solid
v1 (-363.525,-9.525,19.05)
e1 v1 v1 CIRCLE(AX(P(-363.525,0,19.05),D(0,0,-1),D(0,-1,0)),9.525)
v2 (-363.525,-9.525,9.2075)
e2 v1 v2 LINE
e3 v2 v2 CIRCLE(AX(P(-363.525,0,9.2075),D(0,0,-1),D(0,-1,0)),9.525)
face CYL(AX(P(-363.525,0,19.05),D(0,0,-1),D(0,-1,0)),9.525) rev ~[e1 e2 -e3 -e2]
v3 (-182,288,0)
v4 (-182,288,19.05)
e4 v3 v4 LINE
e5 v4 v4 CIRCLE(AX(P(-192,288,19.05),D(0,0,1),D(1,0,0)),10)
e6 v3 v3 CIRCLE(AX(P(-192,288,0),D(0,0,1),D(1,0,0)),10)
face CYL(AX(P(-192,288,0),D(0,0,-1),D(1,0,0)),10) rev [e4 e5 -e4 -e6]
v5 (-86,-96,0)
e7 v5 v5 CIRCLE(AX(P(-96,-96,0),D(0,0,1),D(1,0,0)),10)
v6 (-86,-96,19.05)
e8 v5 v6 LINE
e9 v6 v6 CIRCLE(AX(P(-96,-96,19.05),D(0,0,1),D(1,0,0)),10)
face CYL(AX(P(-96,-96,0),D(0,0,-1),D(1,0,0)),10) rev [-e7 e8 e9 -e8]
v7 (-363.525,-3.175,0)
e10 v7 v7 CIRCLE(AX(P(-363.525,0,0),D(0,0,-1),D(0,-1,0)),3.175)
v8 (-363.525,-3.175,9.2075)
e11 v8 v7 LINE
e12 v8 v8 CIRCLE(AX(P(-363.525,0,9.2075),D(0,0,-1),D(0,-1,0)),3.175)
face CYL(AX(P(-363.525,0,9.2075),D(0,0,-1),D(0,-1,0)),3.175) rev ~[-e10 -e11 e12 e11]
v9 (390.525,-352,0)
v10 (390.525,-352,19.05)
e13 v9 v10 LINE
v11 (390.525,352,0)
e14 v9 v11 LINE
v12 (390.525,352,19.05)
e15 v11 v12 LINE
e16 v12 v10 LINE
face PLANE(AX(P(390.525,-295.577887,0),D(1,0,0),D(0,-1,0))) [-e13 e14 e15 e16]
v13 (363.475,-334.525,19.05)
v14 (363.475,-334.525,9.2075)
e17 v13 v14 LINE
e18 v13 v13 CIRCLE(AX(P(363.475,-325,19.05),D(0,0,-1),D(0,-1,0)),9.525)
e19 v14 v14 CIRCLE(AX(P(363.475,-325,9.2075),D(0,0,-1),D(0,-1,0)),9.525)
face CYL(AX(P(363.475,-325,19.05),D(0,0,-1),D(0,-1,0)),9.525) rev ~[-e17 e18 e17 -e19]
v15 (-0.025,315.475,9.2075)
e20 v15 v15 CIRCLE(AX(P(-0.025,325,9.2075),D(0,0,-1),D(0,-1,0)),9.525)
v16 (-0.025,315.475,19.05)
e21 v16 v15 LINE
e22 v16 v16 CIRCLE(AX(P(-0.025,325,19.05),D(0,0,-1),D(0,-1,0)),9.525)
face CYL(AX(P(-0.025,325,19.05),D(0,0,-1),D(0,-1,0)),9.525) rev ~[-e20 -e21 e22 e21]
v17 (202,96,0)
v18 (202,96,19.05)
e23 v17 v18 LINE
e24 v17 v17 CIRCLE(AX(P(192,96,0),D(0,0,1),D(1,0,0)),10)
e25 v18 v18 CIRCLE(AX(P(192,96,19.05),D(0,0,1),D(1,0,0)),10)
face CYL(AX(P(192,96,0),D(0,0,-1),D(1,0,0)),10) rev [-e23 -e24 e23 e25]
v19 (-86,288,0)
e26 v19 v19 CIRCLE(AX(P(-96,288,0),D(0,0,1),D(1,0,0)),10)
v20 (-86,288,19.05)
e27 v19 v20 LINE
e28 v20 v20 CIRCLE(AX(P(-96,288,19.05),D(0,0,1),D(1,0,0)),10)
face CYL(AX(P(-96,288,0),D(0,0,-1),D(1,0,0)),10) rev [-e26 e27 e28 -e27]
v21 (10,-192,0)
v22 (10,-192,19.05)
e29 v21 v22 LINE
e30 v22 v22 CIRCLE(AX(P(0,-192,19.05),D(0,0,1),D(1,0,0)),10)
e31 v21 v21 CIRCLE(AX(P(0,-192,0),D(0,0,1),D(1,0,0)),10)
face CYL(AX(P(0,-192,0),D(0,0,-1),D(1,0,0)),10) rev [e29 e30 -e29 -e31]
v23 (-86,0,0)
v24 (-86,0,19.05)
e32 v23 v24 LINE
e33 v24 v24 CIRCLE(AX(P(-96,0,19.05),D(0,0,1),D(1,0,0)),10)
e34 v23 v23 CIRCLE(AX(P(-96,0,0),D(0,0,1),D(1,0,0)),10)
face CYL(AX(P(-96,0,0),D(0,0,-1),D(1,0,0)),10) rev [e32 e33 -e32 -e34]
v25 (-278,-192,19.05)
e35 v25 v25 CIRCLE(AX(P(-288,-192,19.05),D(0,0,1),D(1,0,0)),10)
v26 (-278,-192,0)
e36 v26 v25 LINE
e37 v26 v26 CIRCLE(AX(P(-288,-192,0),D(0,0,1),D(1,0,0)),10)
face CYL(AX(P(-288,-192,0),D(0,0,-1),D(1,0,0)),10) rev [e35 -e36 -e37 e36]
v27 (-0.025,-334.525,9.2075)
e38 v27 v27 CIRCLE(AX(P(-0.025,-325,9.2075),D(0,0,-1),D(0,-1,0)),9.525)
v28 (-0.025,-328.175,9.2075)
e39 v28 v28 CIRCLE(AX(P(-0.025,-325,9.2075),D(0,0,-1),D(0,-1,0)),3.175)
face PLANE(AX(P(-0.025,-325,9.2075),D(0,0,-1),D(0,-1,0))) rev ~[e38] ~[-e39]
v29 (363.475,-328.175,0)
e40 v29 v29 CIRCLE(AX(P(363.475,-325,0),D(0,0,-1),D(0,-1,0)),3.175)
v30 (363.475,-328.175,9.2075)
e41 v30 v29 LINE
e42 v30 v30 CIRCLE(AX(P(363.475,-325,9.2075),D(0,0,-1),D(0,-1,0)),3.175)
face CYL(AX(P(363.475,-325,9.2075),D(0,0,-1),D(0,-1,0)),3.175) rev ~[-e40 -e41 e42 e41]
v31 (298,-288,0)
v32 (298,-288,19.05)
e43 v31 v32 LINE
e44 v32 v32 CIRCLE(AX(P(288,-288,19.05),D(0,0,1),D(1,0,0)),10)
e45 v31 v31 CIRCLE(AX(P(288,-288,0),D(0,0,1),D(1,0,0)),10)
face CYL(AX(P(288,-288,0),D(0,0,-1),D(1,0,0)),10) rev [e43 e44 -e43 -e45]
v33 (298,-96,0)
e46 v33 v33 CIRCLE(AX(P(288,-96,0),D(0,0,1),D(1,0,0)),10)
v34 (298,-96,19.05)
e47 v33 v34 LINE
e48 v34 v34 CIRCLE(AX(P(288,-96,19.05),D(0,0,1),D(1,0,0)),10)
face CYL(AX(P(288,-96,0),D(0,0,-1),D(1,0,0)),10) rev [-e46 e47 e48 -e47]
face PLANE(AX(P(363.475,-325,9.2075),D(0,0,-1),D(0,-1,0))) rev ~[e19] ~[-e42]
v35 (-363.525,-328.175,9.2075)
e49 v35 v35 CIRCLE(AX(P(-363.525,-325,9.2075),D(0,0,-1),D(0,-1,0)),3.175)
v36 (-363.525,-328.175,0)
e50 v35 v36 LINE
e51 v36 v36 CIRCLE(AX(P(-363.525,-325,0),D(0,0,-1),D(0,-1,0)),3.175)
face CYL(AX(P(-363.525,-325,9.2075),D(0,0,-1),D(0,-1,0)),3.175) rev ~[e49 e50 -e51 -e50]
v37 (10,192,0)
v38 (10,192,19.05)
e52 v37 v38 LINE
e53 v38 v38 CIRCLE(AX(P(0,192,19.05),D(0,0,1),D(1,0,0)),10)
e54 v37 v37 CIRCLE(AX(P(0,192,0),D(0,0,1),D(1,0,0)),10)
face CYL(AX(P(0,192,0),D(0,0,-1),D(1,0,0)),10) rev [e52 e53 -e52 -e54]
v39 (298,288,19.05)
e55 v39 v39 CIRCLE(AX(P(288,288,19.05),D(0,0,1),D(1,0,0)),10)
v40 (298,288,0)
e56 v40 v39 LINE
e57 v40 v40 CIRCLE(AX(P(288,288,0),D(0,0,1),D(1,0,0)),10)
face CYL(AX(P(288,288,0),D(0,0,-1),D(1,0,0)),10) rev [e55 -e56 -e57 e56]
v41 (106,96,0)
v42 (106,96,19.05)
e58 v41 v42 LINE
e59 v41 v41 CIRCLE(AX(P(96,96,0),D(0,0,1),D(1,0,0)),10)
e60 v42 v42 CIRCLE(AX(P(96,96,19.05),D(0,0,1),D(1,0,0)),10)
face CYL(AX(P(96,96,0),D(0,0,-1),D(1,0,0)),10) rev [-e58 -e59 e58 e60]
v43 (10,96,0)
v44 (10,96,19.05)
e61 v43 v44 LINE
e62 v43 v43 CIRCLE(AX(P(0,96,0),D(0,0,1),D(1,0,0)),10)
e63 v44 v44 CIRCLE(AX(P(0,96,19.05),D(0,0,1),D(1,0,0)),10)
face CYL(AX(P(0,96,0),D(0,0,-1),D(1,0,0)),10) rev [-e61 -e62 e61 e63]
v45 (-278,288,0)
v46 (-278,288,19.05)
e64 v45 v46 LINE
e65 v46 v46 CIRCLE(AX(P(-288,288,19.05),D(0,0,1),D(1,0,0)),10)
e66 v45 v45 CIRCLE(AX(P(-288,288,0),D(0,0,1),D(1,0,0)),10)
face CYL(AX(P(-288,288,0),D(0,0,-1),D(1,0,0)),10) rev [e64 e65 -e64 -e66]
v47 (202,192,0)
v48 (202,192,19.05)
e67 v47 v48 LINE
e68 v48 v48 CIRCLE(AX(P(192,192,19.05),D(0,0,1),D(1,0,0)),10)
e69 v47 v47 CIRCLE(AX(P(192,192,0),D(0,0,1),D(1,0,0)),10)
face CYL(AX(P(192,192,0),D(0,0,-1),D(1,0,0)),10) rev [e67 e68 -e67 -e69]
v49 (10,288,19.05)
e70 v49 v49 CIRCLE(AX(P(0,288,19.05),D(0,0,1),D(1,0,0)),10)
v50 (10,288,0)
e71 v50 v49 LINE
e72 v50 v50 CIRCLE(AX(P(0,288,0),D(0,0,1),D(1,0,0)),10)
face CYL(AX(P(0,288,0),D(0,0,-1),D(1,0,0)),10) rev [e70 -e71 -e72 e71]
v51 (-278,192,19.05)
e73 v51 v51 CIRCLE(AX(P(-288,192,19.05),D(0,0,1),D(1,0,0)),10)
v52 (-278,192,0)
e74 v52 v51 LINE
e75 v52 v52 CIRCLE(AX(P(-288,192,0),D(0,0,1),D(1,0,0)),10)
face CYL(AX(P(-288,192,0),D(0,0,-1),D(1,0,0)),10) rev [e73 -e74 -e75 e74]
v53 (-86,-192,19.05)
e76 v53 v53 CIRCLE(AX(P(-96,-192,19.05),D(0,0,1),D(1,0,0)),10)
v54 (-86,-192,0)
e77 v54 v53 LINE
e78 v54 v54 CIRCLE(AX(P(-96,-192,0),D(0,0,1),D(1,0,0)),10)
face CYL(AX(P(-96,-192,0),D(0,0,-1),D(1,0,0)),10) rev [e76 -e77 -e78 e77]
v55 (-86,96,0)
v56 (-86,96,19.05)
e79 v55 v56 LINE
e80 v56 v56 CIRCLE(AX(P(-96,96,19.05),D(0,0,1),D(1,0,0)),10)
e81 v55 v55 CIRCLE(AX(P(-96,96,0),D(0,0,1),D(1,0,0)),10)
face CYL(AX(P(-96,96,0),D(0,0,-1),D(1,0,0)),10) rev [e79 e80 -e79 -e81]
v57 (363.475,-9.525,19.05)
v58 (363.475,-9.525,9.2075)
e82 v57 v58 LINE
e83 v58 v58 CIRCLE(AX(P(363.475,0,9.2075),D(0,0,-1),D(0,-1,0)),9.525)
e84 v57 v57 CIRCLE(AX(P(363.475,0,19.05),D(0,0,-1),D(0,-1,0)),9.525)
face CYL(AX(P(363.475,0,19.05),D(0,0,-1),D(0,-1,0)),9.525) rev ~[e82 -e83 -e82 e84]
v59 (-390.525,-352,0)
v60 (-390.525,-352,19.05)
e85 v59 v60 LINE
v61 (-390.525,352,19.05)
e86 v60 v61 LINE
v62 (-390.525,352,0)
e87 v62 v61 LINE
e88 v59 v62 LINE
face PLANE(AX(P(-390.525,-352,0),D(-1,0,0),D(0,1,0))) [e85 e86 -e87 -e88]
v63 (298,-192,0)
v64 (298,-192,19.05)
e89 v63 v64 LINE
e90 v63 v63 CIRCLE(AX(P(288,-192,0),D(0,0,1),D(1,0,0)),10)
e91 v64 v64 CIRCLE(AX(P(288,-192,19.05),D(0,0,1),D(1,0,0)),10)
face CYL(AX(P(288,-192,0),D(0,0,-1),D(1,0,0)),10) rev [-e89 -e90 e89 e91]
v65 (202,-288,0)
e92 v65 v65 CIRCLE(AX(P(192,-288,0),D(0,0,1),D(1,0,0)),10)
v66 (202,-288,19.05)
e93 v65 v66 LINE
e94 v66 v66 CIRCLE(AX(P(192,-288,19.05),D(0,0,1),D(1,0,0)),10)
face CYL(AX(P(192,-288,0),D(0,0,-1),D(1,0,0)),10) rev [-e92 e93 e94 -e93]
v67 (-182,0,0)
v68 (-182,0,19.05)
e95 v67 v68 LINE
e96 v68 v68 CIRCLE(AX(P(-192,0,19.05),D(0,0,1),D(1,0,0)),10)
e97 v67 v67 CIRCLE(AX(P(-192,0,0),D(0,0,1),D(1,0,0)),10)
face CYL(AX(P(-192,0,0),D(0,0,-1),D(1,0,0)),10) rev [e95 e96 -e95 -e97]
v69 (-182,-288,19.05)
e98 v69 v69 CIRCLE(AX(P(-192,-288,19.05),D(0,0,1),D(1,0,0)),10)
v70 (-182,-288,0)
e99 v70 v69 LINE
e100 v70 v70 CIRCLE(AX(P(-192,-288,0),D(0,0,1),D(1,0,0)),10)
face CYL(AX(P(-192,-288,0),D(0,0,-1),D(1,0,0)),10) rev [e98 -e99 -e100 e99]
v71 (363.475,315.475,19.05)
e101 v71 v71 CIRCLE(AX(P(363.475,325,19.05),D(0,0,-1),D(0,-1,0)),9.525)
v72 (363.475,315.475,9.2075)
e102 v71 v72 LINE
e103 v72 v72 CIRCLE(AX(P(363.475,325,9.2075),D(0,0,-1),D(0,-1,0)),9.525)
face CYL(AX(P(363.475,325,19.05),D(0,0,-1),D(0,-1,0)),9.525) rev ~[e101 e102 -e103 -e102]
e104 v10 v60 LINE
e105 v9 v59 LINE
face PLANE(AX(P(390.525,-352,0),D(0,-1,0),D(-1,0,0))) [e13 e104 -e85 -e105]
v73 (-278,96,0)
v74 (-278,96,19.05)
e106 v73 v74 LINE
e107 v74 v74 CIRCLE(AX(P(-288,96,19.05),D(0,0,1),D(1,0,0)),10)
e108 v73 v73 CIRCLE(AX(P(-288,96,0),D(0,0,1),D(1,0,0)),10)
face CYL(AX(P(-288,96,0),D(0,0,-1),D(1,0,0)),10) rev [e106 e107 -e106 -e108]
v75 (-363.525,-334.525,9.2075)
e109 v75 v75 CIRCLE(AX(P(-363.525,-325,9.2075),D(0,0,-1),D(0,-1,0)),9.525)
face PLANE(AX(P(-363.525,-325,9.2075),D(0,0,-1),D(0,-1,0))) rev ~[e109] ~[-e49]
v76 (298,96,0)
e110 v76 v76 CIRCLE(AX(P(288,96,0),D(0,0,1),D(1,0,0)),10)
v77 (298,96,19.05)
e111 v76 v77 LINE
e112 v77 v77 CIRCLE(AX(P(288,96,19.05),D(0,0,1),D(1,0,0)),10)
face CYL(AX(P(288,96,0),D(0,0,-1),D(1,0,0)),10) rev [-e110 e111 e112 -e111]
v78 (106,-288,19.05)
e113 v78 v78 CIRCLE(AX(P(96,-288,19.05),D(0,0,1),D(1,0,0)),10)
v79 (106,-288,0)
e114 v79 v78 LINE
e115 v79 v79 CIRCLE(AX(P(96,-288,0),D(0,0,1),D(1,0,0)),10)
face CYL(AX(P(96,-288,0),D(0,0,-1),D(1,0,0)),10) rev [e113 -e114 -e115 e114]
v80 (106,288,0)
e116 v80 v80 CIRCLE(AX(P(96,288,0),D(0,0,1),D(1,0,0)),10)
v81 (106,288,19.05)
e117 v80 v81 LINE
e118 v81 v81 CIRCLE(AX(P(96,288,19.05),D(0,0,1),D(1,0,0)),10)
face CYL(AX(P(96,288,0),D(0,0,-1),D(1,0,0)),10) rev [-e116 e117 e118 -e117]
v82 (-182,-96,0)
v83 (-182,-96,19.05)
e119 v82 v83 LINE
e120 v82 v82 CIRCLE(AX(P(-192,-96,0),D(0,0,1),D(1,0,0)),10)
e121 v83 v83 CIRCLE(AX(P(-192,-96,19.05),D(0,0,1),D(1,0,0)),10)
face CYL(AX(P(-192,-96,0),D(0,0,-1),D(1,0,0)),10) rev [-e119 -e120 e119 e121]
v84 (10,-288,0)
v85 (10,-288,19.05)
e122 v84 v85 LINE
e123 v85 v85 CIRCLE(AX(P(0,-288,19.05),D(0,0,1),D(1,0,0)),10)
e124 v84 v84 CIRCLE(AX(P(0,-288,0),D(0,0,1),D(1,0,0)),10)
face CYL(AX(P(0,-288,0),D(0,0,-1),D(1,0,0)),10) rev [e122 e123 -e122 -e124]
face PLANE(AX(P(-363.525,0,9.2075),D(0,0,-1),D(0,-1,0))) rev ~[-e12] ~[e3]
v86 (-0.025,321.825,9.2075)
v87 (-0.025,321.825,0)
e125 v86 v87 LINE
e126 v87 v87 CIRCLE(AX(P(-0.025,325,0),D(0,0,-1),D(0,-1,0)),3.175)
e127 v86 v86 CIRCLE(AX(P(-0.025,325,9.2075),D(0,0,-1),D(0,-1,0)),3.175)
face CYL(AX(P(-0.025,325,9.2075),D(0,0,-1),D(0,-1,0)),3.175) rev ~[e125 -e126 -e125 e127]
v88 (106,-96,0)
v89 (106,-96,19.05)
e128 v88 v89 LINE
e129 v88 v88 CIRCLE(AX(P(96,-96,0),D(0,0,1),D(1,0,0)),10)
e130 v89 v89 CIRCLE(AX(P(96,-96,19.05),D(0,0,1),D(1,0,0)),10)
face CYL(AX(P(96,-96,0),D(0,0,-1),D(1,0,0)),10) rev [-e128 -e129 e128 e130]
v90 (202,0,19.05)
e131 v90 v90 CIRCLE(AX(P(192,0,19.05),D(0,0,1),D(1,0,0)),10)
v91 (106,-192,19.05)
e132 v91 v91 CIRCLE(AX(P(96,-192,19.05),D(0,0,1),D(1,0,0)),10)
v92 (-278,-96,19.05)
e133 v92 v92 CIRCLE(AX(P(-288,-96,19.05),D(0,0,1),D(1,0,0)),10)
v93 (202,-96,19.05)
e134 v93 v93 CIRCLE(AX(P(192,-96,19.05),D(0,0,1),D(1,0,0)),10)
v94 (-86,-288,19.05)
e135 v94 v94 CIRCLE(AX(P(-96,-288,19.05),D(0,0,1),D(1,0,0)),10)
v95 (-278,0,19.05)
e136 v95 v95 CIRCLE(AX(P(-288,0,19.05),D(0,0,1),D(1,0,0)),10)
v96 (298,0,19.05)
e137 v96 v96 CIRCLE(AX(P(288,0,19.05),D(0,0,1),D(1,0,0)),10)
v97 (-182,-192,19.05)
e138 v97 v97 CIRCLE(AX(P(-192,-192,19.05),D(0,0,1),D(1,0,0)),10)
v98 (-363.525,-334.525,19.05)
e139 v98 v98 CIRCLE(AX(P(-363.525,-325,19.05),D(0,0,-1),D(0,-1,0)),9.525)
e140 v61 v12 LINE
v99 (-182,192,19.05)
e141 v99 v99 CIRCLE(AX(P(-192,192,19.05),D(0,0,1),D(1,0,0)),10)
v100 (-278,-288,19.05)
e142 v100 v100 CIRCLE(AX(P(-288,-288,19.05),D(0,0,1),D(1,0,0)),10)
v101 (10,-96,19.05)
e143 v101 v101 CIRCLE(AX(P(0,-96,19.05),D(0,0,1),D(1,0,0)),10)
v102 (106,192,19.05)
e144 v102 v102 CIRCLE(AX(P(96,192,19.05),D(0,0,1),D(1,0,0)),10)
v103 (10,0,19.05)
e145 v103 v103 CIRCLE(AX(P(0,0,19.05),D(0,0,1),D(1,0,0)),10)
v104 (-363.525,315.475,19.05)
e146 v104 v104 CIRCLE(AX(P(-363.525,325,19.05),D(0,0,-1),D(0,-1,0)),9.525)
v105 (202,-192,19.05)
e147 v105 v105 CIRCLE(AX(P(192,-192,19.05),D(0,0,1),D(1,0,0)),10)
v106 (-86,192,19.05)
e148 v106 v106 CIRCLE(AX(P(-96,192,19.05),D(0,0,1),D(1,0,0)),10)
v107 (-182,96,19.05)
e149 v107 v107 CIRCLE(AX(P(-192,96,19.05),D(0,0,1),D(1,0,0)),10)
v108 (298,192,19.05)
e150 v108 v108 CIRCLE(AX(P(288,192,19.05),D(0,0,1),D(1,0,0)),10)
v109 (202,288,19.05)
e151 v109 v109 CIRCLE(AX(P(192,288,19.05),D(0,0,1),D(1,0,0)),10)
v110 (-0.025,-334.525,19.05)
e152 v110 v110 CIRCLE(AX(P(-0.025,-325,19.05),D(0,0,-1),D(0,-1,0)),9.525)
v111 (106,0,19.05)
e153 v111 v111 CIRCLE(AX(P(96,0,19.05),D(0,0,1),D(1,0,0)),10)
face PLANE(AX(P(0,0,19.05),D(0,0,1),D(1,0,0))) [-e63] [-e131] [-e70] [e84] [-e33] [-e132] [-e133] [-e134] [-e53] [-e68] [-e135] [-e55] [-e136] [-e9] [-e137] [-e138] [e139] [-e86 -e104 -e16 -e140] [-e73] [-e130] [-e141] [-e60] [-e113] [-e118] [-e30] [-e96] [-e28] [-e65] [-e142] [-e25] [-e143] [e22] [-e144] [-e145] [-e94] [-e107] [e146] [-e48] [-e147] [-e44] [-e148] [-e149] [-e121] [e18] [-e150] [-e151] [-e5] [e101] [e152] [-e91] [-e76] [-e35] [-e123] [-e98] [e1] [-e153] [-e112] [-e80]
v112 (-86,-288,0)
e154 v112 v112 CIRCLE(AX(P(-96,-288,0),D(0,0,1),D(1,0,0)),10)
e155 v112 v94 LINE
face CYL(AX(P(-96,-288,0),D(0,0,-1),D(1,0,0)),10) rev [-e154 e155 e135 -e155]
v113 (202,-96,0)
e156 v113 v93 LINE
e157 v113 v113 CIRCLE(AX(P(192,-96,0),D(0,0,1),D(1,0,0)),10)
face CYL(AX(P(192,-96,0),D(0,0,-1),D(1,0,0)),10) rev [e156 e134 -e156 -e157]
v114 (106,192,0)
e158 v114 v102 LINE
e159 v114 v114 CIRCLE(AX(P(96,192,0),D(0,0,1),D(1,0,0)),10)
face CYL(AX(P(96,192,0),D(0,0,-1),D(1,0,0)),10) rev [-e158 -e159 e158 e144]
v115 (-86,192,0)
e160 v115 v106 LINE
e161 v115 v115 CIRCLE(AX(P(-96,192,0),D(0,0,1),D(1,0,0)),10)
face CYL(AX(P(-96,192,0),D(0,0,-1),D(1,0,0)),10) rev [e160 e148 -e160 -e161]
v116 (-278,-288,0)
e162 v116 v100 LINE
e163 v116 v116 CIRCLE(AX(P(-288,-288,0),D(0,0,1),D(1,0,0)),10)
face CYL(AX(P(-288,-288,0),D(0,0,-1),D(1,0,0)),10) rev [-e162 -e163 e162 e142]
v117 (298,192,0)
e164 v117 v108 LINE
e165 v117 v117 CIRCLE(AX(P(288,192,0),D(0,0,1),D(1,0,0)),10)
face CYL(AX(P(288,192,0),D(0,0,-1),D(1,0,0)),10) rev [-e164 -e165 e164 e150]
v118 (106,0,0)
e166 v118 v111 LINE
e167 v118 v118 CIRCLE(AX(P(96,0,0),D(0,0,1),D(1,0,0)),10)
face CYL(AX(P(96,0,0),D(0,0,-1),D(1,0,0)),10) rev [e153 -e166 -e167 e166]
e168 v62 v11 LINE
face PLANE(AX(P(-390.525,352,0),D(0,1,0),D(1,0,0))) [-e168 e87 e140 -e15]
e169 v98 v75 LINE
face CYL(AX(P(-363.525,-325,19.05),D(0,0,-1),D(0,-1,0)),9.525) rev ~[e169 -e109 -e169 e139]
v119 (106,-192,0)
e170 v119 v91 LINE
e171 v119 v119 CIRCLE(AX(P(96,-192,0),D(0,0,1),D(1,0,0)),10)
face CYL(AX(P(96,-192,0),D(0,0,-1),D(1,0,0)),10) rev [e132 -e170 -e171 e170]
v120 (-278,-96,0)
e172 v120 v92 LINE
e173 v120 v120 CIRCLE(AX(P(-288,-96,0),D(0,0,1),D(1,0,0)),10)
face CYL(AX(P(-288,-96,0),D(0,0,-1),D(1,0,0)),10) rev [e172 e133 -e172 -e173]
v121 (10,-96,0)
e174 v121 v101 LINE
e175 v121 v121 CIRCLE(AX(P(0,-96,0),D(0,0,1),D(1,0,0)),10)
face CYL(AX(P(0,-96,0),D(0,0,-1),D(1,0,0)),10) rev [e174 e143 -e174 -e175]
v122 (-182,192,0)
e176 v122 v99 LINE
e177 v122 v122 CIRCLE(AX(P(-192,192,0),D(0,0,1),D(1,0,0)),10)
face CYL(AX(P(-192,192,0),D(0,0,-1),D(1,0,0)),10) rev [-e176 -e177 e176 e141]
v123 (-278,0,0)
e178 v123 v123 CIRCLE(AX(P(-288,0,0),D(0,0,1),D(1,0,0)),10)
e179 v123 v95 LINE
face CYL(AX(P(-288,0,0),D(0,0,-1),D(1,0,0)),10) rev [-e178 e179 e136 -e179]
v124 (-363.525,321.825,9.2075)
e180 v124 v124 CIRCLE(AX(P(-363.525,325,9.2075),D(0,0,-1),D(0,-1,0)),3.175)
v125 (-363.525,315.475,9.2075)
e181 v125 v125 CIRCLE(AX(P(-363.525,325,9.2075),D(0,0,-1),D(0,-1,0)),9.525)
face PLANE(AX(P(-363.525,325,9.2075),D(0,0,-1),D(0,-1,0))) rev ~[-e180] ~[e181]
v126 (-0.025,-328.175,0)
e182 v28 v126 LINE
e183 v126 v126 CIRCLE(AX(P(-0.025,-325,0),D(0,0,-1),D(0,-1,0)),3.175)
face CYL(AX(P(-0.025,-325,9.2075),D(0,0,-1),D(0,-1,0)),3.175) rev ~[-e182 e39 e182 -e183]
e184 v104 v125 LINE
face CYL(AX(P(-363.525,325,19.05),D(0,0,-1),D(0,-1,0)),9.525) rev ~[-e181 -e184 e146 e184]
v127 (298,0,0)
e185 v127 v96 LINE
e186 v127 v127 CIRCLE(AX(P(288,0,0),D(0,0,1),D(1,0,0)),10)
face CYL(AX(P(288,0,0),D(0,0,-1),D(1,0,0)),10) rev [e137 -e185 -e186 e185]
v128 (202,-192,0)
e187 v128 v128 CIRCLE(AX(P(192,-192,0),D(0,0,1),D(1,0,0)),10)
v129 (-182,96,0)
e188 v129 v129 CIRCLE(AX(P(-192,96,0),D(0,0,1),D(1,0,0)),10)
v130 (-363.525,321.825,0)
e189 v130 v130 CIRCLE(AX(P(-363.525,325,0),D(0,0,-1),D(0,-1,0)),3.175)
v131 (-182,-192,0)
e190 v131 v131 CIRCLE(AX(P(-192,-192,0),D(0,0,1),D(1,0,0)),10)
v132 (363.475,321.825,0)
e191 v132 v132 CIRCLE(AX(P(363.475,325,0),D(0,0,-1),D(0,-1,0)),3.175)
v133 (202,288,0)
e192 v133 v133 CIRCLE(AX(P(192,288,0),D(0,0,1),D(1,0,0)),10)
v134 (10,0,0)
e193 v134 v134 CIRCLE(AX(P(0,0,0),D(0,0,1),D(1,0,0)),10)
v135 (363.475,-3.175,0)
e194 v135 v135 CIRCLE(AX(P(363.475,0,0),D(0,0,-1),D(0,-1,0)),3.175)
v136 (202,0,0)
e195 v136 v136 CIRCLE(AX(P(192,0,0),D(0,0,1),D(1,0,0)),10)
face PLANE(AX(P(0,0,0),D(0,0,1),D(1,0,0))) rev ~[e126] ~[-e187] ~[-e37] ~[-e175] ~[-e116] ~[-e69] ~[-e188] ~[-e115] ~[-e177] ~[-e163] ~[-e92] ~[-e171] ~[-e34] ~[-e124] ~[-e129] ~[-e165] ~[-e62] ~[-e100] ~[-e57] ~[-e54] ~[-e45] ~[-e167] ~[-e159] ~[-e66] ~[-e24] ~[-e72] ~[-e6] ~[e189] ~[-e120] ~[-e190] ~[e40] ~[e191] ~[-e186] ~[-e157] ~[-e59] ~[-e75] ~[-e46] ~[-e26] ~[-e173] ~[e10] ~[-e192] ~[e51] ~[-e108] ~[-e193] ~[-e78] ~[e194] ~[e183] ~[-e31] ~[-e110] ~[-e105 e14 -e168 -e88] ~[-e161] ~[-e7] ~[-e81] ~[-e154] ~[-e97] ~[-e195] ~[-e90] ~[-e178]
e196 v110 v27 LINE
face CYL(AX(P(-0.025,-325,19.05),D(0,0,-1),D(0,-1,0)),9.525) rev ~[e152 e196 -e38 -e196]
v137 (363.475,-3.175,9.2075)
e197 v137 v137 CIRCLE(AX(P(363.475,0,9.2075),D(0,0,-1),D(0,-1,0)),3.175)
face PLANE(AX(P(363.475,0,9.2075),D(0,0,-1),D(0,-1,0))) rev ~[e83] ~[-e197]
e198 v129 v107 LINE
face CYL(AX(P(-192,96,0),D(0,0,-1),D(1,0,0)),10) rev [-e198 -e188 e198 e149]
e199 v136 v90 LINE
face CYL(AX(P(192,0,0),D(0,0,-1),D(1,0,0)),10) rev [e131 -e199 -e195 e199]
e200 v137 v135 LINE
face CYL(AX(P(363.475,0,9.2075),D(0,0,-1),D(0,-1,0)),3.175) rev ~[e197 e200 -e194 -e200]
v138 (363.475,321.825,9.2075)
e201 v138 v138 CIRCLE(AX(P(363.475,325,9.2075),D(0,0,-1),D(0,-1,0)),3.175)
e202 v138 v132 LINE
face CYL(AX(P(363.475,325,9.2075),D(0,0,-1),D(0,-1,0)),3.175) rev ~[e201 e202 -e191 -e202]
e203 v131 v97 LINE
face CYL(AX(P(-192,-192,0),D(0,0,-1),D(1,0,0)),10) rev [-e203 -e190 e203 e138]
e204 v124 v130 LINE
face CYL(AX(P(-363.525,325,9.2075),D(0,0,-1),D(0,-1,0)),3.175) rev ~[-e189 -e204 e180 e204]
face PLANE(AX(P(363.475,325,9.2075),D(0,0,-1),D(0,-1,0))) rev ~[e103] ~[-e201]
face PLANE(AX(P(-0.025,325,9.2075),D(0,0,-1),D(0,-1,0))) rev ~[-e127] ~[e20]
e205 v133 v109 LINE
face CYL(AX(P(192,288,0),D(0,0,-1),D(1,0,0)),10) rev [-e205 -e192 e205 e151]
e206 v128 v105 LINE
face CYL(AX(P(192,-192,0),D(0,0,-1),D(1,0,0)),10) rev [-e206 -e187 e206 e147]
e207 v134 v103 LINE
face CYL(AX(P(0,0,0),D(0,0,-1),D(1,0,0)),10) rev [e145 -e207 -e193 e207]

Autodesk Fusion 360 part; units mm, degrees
sketch "Sketch1" plane through (0, 0, 0) normal (0, 0, 1) x (1, 0, 0)
  line L0 (390.525, -352) -> (-390.525, -352)
  line L1 (-390.525, -352) -> (-390.525, 352)
  line L2 (-390.525, 352) -> (390.525, 352)
  line L3 (390.525, 352) -> (390.525, -352)
  line L4 (390.525, -352) -> (-390.525, 352) construction
  line L5 (-390.525, -352) -> (390.525, 352) construction
  circle A0 centre (0, 0) radius 10
  circle A1 centre (-288, -288) radius 10
  circle A2 centre (-192, -288) radius 10
  circle A3 centre (-96, -288) radius 10
  circle A4 centre (0, -288) radius 10
  circle A5 centre (96, -288) radius 10
  circle A6 centre (192, -288) radius 10
  circle A7 centre (288, -288) radius 10
  circle A8 centre (-288, -192) radius 10
  circle A9 centre (-192, -192) radius 10
  circle A10 centre (-96, -192) radius 10
  circle A11 centre (0, -192) radius 10
  circle A12 centre (96, -192) radius 10
  circle A13 centre (192, -192) radius 10
  circle A14 centre (288, -192) radius 10
  circle A15 centre (-288, -96) radius 10
  circle A16 centre (-192, -96) radius 10
  circle A17 centre (-96, -96) radius 10
  circle A18 centre (0, -96) radius 10
  circle A19 centre (96, -96) radius 10
  circle A20 centre (192, -96) radius 10
  circle A21 centre (288, -96) radius 10
  circle A22 centre (-288, 0) radius 10
  circle A23 centre (-192, 0) radius 10
  circle A24 centre (-96, 0) radius 10
  circle A25 centre (96, 0) radius 10
  circle A26 centre (192, 0) radius 10
  circle A27 centre (288, 0) radius 10
  circle A28 centre (-288, 96) radius 10
  circle A29 centre (-192, 96) radius 10
  circle A30 centre (-96, 96) radius 10
  circle A31 centre (0, 96) radius 10
  circle A32 centre (96, 96) radius 10
  circle A33 centre (192, 96) radius 10
  circle A34 centre (288, 96) radius 10
  circle A35 centre (-288, 192) radius 10
  circle A36 centre (-192, 192) radius 10
  circle A37 centre (-96, 192) radius 10
  circle A38 centre (0, 192) radius 10
  circle A39 centre (96, 192) radius 10
  circle A40 centre (192, 192) radius 10
  circle A41 centre (288, 192) radius 10
  circle A42 centre (-288, 288) radius 10
  circle A43 centre (-192, 288) radius 10
  circle A44 centre (-96, 288) radius 10
  circle A45 centre (0, 288) radius 10
  circle A46 centre (96, 288) radius 10
  circle A47 centre (192, 288) radius 10
  circle A48 centre (288, 288) radius 10
  circle A49 centre (384, -288) radius 10
  circle A50 centre (384, -192) radius 10
  circle A51 centre (384, -96) radius 10
  circle A52 centre (384, 0) radius 10
  circle A53 centre (384, 96) radius 10
  circle A54 centre (384, 192) radius 10
  circle A55 centre (384, 288) radius 10
  dimension "d1" = 781.05
  dimension "d2" = 704
  dimension "d3" = 20
  dimension "d6" = 96
  dimension "d7" = 96
extrude "Extrude1" add sketch "Sketch1" along normal blind 19.05 contours L0 L1 L2 L3 A49 A50 A51 A52 A53 A54 A55 | L3 A49 | L3 A50 | L3 A55 | L3 A51 | L3 A54 | L3 A52 | L3 A53 picked at (384.7263, -291.1646) picked at (379.6291, -189.2794) picked at (384.7263, 284.8354) picked at (385.0976, -95.2699) picked at (388.2662, 188.6677) picked at (386.0356, -2.4329) picked at (385.0976, 95.2699)
sketch "Sketch2" plane through (0, 0, 19.05) normal (0, 0, 1) x (-1, 0, 0)
  circle A0 centre (192, -288) radius 10
  circle A1 centre (-192, -288) radius 10
  circle A2 centre (96, 192) radius 10
  circle A3 centre (288, 192) radius 10
  circle A4 centre (0, 192) radius 10
  circle A5 centre (288, 96) radius 10
  circle A6 centre (96, 0) radius 10
  circle A7 centre (288, 0) radius 10
  circle A8 centre (192, 0) radius 10
  circle A9 centre (-192, 0) radius 10
  circle A10 centre (-288, 0) radius 10
  circle A11 centre (288, -96) radius 10
  circle A12 centre (-96, 0) radius 10
  circle A13 centre (-96, -288) radius 10
  circle A14 centre (192, 192) radius 10
  circle A15 centre (-288, -288) radius 10
  circle A16 centre (0, -288) radius 10
  circle A17 centre (-288, -192) radius 10
  circle A18 centre (192, -192) radius 10
  circle A19 centre (96, -192) radius 10
  circle A20 centre (288, -192) radius 10
  circle A21 centre (-288, -96) radius 10
  circle A22 centre (0, -96) radius 10
  circle A23 centre (-96, -96) radius 10
  circle A24 centre (-192, -96) radius 10
  circle A25 centre (-192, -192) radius 10
  circle A26 centre (-96, 96) radius 10
  circle A27 centre (-288, 96) radius 10
  circle A28 centre (-192, 96) radius 10
  circle A29 centre (0, 96) radius 10
  circle A30 centre (96, 96) radius 10
  circle A31 centre (192, 96) radius 10
  circle A32 centre (-96, 192) radius 10
  circle A33 centre (-192, 192) radius 10
  circle A34 centre (-288, 192) radius 10
  circle A35 centre (192, -96) radius 10
  circle A36 centre (288, -288) radius 10
  circle A37 centre (96, -96) radius 10
  circle A38 centre (96, -288) radius 10
  circle A39 centre (-96, -192) radius 10
  circle A40 centre (288, 288) radius 10
  circle A41 centre (-96, 288) radius 10
  circle A42 centre (192, 288) radius 10
  circle A43 centre (-192, 288) radius 10
  circle A44 centre (0, 0) radius 10
  circle A45 centre (0, 288) radius 10
  circle A46 centre (-288, 288) radius 10
  circle A47 centre (0, -192) radius 10
  circle A48 centre (96, 288) radius 10
  line L0 (-390.525, -352) -> (390.525, -352)
  line L1 (390.525, -352) -> (390.525, 352)
  line L2 (390.525, 352) -> (-390.525, 352)
  line L3 (-390.525, 352) -> (-390.525, -352)
  point P0 (363.525, -325)
  point P1 (0.025, -325)
  point P2 (-363.475, -325)
  point P3 (363.525, 0)
  point P4 (0.025, 0)
  point P5 (-363.475, 0)
  point P6 (363.525, 325)
  point P7 (0.025, 325)
  point P8 (-363.475, 325)
  dimension "d17" = 27
  dimension "d18" = 27
  dimension "d21" = 727
  dimension "d22" = 650
hole "Hole1" at (-363.525, 325, 19.05) at (-0.025, 325, 19.05) at (-363.525, 0, 19.05) at (-363.525, -325, 19.05) at (-0.025, -325, 19.05) at (363.475, -325, 19.05) at (363.475, 0, 19.05) at (363.475, 325, 19.05) direction (0, 0, -1) diameter 6.35 end through all counterbore diameter 19.05 counterbore depth 9.8425
equation "d8 = ( 3 / 4 ) * 1 in"
